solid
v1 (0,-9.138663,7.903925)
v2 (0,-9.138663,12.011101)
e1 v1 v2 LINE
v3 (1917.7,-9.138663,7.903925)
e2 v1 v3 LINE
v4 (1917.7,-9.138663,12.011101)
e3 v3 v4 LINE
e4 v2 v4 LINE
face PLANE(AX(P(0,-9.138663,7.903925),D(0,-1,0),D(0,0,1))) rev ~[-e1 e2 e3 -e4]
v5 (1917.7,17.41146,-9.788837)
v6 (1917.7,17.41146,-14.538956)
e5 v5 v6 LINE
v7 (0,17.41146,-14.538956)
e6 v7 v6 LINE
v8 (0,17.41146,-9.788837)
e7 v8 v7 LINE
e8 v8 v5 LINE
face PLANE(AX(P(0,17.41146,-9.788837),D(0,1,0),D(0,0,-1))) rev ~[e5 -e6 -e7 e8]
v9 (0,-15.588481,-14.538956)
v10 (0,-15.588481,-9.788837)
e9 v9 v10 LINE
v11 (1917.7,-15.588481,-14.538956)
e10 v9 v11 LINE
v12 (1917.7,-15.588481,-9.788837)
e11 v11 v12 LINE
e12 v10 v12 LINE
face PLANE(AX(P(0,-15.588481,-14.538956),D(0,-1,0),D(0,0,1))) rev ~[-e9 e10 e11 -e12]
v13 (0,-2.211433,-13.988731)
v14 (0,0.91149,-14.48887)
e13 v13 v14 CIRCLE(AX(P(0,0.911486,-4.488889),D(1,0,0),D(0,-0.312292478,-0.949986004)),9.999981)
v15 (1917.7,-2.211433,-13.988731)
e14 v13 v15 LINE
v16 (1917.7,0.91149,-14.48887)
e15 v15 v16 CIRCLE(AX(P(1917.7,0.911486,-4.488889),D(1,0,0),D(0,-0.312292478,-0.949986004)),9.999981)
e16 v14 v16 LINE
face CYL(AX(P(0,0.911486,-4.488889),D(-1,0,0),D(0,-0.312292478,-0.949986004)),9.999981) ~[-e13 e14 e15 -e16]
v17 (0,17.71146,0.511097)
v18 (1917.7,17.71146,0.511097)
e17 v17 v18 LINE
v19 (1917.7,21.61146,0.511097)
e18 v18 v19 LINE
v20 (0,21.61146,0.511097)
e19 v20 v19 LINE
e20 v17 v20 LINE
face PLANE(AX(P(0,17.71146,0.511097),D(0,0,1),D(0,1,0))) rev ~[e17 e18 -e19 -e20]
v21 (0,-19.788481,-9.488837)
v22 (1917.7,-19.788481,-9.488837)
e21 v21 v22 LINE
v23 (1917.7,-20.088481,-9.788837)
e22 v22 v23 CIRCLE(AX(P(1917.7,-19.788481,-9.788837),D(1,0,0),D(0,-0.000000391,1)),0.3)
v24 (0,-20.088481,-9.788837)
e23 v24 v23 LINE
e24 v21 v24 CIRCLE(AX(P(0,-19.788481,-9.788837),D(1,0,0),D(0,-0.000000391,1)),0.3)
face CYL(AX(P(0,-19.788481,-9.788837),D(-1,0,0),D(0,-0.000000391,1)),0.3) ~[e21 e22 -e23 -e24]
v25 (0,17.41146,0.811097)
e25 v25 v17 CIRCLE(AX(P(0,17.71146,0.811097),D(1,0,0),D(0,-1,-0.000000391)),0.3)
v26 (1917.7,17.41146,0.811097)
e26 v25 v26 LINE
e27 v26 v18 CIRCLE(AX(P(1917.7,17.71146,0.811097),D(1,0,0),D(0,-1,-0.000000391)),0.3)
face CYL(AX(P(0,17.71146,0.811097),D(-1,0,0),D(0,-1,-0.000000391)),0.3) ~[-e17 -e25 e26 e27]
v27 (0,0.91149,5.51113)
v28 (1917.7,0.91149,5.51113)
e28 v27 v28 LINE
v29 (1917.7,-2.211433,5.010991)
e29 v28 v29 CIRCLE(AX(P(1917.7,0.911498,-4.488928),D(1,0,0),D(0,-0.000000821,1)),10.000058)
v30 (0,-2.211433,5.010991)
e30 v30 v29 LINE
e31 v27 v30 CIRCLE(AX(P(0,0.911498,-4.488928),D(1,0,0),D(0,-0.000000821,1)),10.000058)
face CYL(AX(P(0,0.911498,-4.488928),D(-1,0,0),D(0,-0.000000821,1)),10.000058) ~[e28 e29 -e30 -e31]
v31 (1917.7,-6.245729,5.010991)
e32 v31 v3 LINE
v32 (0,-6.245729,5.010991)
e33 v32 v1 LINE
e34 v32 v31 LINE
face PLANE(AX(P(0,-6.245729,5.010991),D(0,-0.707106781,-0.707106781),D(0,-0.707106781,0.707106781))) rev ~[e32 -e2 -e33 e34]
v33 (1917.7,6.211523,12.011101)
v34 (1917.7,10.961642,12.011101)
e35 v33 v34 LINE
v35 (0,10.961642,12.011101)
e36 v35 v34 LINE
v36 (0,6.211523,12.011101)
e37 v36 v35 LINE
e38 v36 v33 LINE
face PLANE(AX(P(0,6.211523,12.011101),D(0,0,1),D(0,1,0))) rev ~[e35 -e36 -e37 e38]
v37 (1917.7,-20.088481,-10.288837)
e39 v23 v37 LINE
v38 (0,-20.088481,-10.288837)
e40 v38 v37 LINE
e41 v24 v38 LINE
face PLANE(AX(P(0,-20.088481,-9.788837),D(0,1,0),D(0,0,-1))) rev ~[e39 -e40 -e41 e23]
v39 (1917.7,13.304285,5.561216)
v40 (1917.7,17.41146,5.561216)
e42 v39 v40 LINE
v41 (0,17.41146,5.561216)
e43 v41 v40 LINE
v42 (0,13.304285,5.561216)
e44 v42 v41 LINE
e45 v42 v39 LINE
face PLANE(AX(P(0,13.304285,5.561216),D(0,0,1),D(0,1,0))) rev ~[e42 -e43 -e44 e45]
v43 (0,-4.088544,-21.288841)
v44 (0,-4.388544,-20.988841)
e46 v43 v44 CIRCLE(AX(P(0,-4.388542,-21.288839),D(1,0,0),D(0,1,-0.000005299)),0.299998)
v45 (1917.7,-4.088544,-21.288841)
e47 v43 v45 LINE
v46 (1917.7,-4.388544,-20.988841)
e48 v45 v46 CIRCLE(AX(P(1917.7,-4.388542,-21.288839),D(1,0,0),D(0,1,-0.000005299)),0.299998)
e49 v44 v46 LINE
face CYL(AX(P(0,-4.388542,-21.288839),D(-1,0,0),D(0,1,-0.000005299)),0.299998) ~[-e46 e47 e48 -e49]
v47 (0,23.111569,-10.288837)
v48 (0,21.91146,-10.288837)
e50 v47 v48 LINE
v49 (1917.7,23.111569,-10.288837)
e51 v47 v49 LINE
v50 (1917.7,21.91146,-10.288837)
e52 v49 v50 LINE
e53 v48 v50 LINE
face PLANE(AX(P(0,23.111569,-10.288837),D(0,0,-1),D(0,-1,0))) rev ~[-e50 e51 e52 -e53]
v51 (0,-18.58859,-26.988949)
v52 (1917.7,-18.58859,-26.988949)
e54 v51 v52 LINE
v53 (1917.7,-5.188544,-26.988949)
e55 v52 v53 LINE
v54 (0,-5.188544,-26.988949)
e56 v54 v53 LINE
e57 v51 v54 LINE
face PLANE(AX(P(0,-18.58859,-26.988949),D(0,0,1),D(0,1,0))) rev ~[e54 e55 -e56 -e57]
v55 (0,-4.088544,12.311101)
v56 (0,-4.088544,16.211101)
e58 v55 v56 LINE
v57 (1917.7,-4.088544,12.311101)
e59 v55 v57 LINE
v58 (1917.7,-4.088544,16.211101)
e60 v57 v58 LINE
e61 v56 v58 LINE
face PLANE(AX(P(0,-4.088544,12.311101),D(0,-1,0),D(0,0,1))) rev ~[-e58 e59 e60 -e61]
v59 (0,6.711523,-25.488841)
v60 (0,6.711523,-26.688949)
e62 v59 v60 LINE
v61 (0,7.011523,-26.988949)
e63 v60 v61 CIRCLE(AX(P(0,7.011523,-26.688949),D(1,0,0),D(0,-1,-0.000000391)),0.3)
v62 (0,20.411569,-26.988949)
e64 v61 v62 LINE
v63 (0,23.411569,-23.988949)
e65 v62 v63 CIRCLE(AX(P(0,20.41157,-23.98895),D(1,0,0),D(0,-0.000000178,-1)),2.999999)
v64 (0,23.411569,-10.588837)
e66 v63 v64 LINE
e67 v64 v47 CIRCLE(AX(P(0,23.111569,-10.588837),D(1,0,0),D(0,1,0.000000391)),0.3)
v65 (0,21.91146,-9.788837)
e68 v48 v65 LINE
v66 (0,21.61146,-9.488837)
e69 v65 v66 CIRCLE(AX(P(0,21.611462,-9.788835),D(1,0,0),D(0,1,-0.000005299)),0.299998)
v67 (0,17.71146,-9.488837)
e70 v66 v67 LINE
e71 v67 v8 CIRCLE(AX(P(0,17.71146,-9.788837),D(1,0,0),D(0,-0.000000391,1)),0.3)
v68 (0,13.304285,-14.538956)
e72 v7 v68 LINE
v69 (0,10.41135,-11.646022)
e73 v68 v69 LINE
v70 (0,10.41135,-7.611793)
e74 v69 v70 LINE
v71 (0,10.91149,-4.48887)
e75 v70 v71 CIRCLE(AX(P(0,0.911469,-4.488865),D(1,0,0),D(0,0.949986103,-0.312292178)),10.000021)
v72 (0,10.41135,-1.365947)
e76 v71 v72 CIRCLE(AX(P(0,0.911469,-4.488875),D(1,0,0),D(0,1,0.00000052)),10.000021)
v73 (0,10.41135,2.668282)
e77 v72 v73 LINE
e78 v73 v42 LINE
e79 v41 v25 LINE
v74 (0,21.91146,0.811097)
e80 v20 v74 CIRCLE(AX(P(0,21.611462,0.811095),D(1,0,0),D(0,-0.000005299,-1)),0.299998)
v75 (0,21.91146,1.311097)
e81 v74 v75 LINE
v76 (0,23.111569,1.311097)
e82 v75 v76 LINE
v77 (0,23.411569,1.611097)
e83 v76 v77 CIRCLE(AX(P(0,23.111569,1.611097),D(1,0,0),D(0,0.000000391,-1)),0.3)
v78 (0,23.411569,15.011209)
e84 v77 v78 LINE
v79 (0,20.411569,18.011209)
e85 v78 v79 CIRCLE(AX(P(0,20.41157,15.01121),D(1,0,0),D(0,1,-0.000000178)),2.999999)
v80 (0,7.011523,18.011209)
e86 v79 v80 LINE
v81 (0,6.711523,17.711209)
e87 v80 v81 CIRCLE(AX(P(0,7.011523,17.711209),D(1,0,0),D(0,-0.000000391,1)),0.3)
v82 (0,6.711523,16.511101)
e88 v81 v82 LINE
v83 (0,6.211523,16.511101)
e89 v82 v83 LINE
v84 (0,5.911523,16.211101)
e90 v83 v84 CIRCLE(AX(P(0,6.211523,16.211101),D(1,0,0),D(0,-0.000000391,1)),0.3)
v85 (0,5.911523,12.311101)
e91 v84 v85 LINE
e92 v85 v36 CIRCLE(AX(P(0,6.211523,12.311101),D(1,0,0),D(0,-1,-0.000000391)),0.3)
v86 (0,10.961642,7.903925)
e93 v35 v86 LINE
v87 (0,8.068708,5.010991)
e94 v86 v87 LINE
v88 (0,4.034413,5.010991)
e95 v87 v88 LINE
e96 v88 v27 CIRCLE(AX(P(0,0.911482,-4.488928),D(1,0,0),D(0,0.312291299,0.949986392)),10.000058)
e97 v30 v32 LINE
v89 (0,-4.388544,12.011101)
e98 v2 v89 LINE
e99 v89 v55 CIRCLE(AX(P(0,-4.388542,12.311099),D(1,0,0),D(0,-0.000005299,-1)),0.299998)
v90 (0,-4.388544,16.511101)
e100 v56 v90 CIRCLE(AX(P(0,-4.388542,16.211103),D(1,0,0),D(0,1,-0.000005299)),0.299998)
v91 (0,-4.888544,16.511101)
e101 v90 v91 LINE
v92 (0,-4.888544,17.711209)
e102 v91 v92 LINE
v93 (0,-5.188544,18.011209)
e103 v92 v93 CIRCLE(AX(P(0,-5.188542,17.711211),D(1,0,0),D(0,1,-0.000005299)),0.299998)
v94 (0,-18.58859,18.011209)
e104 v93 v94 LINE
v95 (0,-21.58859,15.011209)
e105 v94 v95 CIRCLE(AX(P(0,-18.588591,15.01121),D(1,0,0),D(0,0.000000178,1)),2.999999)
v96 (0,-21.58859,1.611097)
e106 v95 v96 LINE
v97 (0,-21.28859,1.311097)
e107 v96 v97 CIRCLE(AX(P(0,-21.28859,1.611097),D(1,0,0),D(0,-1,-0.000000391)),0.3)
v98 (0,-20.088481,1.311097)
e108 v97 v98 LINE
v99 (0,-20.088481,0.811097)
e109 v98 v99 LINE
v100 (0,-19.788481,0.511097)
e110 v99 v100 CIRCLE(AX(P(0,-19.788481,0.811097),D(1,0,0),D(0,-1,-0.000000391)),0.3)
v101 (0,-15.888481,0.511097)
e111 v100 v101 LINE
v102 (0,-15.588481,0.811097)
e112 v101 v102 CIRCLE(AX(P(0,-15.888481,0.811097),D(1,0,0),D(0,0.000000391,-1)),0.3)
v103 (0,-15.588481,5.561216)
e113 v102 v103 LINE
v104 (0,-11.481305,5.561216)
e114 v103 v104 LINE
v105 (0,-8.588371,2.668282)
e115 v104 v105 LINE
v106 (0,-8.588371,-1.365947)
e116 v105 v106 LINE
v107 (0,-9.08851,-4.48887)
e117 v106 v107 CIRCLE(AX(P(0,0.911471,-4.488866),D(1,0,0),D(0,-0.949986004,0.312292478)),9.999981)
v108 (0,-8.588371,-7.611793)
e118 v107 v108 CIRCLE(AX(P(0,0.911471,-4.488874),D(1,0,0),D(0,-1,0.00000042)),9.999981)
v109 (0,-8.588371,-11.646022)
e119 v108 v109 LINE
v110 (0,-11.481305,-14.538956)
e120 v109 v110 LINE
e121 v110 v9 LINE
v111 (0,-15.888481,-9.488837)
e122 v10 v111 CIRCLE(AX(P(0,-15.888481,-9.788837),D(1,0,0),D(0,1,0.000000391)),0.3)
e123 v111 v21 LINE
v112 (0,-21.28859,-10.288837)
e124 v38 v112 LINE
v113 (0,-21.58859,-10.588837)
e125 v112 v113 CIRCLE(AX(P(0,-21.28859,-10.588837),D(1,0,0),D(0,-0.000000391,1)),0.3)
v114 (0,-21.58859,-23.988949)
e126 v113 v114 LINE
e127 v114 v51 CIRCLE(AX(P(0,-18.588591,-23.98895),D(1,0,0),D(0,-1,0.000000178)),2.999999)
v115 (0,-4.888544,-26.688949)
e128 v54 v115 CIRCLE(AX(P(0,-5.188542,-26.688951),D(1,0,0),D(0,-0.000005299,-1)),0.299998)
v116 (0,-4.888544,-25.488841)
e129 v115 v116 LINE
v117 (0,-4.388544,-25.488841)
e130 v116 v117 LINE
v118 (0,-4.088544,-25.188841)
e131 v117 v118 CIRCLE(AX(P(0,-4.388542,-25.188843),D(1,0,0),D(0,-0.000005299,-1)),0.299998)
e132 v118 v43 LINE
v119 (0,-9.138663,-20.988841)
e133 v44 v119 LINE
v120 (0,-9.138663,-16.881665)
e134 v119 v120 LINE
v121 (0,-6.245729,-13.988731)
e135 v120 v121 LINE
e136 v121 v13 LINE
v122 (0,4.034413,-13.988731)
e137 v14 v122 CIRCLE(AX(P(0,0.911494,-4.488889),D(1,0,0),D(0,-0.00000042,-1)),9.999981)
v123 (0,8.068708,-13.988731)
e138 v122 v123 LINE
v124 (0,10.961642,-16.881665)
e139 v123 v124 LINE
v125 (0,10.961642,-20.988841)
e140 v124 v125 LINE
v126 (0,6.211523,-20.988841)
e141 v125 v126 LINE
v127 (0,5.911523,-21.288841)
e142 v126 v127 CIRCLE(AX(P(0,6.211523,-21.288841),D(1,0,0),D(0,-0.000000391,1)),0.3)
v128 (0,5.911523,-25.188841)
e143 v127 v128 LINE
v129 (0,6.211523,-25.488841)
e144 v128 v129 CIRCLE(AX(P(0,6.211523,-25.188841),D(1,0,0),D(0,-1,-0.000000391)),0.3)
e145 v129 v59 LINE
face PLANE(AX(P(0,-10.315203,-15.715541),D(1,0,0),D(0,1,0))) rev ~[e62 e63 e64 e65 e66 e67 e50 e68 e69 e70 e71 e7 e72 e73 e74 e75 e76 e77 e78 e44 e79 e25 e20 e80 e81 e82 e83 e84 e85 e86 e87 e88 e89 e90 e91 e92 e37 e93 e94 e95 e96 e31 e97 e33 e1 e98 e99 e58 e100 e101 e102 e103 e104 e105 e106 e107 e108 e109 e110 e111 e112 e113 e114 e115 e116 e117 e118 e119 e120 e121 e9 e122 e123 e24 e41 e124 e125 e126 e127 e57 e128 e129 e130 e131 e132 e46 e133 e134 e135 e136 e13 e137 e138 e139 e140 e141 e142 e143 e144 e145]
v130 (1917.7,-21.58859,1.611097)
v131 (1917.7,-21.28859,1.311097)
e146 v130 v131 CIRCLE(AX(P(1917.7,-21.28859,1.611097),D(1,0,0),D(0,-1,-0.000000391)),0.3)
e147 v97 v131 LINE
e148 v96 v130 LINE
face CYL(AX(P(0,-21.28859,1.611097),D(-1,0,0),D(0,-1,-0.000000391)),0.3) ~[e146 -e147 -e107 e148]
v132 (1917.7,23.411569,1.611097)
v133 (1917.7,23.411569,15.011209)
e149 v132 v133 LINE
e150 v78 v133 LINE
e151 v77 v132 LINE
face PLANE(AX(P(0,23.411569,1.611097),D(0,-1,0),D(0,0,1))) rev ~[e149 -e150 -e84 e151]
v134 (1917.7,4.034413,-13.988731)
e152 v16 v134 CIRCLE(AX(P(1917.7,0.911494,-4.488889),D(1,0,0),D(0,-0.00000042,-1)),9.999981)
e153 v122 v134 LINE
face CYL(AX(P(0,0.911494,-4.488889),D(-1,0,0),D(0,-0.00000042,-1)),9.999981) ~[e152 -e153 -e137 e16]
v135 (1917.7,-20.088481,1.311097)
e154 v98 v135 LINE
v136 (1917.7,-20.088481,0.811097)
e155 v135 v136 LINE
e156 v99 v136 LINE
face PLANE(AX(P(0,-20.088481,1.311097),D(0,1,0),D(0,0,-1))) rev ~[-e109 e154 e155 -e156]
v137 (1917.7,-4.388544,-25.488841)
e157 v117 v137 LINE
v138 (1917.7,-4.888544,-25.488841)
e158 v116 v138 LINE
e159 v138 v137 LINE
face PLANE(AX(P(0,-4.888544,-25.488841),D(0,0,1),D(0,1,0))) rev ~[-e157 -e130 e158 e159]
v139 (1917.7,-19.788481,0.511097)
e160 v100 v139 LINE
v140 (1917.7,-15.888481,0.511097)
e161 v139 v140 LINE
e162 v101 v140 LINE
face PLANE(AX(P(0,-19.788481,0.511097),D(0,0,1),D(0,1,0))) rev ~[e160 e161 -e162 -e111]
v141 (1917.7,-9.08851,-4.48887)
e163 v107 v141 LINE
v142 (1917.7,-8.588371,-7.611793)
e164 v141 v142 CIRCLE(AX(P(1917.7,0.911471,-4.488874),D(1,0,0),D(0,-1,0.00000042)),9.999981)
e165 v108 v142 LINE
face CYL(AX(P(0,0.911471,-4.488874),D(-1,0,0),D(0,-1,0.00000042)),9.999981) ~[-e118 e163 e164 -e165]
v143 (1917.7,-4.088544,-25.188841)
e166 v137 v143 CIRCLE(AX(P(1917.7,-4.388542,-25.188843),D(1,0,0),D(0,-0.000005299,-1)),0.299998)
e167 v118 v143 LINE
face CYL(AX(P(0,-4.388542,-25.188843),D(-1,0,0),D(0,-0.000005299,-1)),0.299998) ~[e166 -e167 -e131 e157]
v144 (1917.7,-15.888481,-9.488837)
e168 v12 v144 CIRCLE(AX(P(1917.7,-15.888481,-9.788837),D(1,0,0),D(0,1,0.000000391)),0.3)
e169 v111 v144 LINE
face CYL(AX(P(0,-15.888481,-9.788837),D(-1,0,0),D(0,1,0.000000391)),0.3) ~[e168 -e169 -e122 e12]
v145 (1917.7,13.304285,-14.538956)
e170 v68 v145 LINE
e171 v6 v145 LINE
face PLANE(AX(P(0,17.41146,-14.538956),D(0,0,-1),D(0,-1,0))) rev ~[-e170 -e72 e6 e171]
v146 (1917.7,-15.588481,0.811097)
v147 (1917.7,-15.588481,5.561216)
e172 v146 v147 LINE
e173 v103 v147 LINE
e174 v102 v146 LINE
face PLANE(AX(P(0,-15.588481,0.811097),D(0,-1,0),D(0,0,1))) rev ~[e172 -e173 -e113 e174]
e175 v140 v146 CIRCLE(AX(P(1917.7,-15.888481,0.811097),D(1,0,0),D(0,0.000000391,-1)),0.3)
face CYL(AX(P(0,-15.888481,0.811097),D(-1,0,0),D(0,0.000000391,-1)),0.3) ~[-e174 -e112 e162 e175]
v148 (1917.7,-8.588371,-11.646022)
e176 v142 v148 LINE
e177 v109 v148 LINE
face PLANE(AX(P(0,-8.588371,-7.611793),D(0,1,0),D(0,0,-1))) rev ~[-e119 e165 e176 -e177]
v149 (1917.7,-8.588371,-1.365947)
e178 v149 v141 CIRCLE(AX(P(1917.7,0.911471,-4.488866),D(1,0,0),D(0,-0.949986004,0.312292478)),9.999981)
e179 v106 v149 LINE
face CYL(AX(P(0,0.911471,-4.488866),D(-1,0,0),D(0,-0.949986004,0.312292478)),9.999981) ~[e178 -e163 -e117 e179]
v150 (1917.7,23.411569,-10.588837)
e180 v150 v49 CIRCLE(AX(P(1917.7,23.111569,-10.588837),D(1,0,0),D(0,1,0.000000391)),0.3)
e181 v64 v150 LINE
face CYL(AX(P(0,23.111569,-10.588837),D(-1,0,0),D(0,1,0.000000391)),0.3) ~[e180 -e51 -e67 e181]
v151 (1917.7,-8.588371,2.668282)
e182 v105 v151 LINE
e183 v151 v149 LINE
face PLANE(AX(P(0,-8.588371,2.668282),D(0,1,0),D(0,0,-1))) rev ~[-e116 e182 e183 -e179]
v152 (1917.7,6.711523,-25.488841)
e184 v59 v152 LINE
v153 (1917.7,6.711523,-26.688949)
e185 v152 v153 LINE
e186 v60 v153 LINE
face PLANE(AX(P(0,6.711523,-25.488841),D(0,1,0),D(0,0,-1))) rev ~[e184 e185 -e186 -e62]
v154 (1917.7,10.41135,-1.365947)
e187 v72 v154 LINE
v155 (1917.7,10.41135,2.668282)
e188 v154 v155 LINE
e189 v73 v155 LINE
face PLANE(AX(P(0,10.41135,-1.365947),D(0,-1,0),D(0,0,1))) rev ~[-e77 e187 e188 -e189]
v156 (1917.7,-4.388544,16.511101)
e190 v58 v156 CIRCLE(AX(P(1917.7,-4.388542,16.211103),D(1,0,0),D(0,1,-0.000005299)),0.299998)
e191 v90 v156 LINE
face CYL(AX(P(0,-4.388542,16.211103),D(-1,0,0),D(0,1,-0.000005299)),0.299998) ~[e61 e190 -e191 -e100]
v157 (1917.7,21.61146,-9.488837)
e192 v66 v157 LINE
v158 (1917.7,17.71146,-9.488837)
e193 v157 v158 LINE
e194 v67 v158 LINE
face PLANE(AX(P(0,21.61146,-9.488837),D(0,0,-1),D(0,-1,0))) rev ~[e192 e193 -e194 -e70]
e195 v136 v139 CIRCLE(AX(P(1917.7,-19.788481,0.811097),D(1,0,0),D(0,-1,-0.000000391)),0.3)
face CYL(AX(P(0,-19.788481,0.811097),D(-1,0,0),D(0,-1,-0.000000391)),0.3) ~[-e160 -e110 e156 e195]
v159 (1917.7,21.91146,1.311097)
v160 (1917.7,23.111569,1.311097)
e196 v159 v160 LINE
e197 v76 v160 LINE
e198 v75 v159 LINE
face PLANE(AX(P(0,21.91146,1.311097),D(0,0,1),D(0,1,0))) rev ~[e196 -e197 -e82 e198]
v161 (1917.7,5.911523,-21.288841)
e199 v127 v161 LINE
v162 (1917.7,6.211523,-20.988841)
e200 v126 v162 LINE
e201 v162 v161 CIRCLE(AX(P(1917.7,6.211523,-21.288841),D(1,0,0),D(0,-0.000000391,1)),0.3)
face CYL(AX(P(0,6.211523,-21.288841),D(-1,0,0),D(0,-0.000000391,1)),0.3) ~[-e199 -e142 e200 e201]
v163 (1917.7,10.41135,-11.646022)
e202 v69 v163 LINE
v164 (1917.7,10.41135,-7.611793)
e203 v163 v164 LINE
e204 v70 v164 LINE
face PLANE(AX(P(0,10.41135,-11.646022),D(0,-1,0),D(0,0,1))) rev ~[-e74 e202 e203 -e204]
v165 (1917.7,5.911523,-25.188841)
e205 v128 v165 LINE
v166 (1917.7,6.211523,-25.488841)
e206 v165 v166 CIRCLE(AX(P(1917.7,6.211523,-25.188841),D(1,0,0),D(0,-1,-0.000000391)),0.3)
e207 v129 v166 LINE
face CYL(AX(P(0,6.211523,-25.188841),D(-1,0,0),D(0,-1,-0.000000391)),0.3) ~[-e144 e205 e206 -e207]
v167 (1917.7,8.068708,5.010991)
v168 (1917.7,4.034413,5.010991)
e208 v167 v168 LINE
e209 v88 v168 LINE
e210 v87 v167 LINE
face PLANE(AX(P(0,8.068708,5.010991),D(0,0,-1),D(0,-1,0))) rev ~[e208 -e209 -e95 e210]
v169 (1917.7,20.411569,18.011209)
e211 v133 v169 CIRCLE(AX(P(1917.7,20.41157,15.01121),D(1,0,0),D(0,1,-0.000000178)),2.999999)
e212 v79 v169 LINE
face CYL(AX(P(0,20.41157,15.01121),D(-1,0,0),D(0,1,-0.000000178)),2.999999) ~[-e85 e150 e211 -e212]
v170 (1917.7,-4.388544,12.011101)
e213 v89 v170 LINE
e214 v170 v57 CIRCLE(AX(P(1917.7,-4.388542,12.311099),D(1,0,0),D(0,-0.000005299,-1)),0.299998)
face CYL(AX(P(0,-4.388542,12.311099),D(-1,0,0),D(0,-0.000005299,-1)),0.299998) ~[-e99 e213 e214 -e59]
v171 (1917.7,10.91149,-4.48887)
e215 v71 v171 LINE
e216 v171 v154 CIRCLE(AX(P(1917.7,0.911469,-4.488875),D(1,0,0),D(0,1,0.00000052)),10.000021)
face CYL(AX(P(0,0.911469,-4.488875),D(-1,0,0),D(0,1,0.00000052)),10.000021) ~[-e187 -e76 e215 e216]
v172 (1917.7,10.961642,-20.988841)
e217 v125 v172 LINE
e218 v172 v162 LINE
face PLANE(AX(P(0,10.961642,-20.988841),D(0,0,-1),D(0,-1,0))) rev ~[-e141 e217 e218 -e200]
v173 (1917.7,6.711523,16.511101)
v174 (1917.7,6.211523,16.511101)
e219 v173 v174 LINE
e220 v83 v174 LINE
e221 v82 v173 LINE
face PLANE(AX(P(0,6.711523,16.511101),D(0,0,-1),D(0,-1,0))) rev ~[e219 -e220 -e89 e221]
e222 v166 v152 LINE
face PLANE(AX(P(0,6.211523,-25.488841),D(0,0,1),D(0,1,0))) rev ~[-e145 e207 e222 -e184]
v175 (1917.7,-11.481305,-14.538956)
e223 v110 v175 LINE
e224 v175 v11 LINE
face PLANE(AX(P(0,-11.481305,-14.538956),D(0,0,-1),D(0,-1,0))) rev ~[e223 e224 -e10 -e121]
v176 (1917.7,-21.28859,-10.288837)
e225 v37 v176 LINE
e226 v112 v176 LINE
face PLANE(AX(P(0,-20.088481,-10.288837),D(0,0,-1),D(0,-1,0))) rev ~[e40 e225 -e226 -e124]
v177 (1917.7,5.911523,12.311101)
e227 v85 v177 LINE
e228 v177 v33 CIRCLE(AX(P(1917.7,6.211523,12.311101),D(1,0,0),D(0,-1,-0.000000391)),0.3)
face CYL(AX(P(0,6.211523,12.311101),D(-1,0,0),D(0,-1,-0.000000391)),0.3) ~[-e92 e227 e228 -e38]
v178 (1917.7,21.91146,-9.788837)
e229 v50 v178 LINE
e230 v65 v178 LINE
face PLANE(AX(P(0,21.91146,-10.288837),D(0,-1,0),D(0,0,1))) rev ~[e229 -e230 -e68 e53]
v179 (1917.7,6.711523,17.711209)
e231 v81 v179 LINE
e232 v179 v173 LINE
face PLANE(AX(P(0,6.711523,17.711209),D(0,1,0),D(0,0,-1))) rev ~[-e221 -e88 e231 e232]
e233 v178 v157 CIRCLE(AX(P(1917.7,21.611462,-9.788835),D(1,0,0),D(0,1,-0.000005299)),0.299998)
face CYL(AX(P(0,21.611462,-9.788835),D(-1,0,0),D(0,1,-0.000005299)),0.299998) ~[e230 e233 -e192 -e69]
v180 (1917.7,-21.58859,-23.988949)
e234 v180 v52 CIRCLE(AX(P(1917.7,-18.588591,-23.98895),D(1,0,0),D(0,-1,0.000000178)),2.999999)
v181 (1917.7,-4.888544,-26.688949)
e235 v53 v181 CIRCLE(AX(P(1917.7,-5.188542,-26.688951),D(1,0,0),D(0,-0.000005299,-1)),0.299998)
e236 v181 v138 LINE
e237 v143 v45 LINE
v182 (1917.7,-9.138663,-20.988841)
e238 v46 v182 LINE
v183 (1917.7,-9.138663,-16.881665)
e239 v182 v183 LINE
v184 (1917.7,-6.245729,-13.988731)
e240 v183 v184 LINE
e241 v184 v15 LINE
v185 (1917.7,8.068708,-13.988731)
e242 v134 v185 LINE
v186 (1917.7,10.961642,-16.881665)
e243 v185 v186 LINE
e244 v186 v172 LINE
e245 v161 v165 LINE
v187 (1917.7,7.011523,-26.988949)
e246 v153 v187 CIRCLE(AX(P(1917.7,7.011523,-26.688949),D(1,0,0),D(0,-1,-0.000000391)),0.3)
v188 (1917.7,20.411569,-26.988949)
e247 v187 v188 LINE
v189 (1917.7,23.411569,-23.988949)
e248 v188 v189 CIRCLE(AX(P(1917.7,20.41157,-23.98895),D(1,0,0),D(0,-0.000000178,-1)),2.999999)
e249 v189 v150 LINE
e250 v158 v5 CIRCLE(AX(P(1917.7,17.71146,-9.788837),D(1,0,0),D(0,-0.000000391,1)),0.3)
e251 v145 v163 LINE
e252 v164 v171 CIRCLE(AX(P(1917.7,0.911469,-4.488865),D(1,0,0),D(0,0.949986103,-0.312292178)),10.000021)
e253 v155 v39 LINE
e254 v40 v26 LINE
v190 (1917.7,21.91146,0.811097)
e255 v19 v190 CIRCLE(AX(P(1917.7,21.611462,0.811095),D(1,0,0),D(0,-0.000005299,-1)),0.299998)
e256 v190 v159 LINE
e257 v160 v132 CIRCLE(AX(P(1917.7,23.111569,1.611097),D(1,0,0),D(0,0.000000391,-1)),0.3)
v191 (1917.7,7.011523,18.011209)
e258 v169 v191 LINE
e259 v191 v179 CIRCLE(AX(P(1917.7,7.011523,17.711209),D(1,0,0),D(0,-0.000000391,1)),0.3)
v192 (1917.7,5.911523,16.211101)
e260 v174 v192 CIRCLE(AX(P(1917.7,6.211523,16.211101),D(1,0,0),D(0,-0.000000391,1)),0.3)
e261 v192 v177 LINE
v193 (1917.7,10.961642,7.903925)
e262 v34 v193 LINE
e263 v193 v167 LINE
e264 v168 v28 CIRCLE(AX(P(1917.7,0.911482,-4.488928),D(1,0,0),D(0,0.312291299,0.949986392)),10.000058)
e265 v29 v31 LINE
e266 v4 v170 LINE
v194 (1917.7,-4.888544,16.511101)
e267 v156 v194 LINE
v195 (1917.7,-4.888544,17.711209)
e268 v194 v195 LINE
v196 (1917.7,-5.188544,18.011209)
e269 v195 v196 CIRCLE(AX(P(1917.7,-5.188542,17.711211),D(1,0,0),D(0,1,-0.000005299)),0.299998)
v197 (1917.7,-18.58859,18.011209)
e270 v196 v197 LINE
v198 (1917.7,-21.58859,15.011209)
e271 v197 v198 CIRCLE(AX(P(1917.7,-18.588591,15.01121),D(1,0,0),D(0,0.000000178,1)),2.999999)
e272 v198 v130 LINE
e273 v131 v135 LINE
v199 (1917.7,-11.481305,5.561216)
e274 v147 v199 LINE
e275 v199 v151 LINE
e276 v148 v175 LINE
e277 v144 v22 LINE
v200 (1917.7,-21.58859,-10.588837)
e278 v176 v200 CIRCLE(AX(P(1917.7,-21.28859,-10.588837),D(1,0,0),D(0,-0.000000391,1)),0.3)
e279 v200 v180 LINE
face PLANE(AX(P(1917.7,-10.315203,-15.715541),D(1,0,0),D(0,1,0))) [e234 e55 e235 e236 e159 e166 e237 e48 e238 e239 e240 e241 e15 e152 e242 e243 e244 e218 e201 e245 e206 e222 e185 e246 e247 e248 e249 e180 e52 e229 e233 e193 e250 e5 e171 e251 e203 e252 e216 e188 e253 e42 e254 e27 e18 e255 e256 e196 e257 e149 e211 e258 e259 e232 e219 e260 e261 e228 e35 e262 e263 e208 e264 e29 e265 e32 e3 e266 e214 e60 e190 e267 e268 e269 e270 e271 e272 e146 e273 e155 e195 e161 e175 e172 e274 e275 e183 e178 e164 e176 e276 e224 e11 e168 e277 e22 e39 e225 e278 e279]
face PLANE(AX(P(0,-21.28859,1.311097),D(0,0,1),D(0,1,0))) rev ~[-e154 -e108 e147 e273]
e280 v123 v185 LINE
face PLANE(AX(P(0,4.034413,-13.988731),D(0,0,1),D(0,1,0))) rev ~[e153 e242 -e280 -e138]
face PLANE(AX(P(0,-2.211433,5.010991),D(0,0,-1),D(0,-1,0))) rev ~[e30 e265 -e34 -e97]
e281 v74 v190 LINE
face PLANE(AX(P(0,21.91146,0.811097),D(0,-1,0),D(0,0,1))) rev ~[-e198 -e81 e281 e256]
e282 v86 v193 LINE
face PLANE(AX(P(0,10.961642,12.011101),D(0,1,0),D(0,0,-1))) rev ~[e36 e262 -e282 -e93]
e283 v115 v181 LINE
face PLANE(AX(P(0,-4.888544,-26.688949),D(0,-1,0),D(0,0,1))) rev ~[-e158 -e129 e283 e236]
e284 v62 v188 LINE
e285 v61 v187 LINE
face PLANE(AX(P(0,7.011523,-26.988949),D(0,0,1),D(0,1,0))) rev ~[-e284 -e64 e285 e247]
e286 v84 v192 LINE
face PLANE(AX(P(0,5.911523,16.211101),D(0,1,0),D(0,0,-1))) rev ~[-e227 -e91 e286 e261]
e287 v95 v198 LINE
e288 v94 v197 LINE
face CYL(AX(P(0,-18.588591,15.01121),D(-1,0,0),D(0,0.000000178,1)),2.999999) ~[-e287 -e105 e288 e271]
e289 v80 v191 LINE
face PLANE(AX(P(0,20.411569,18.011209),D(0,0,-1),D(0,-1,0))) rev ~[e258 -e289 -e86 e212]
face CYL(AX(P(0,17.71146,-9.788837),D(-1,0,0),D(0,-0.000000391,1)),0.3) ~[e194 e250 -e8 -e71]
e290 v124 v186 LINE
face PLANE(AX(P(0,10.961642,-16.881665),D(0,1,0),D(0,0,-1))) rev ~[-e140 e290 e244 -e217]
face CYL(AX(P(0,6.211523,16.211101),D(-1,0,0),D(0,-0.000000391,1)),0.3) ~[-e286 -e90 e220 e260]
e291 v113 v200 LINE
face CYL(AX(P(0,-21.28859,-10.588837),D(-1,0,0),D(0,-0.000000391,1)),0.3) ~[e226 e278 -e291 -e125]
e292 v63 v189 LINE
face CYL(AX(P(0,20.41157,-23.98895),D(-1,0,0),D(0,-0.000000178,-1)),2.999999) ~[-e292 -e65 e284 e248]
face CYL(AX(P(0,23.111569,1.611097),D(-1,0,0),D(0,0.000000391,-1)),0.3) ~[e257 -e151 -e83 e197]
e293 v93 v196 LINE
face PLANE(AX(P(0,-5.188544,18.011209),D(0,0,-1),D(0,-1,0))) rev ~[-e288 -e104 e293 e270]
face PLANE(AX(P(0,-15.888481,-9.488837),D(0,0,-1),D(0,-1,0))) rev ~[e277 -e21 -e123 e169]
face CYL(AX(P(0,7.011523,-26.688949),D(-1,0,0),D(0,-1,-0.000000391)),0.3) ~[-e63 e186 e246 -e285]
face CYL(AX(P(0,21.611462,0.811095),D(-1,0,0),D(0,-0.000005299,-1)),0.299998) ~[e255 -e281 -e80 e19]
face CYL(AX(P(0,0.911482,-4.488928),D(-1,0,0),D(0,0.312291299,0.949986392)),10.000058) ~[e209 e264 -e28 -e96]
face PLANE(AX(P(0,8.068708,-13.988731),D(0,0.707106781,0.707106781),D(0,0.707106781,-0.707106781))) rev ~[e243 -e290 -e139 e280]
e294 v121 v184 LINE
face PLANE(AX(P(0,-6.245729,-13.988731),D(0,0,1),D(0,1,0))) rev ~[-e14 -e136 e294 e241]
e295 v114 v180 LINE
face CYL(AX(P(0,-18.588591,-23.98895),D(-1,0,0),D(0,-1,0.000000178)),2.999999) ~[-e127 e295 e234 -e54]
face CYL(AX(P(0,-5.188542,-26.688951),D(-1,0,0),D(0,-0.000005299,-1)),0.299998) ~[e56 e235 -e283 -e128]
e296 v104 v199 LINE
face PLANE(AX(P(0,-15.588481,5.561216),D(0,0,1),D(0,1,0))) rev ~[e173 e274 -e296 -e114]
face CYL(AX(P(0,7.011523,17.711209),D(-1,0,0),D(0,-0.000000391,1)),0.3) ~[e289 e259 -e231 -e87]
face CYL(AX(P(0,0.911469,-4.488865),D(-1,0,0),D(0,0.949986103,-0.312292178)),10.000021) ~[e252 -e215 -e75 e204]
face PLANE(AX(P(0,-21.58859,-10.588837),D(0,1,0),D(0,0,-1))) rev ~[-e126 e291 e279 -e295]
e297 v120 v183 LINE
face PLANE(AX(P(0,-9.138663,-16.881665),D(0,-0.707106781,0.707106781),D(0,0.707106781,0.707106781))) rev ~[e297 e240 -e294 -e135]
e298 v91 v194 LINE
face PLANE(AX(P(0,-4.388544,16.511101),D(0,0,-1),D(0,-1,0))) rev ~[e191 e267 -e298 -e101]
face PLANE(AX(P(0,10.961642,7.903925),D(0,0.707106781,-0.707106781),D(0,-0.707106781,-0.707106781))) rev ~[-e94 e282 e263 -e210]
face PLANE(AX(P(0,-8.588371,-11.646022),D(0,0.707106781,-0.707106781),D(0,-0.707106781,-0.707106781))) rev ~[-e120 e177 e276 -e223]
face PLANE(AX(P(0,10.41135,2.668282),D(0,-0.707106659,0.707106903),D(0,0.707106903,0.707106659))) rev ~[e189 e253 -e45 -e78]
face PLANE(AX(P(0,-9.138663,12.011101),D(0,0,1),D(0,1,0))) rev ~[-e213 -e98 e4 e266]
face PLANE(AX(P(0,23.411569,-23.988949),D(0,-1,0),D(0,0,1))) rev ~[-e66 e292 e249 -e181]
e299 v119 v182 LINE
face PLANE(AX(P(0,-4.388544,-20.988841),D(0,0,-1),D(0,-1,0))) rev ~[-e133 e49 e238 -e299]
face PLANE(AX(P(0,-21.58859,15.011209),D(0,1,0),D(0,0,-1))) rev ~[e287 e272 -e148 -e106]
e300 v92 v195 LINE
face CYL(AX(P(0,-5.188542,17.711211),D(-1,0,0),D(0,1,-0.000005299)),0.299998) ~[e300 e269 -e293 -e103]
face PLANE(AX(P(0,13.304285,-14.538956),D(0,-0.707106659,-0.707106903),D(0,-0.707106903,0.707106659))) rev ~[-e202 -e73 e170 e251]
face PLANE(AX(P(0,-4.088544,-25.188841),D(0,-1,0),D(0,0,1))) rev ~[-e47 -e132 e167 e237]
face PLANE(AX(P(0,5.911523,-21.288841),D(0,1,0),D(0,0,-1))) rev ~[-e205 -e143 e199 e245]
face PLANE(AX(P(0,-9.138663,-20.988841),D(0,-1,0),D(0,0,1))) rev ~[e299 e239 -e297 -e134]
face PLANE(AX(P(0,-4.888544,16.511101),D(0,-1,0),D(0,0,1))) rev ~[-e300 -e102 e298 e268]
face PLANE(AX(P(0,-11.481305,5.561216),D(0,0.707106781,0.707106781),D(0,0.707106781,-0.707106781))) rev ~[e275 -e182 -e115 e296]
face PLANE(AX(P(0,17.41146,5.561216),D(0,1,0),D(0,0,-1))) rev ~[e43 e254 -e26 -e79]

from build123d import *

# Parameters (mm, degrees)
F1_DEPTH = 1917.7


with BuildPart() as f1:
    # F0 (on Right) → F1 (new body)
    with BuildSketch(Plane.YZ):
        with BuildLine():
            Line((-20.088481, -9.788837), (-20.088481, -10.288837))
            Line((-20.088481, -10.288837), (-21.28859, -10.288837))
            ThreePointArc((-21.28859, -10.288837), (-21.500722, -10.376705), (-21.58859, -10.588837))
            Line((-21.58859, -10.588837), (-21.58859, -23.988949))
            ThreePointArc((-21.58859, -23.988949), (-20.70991, -26.11027), (-18.58859, -26.988949))
            Line((-18.58859, -26.988949), (-5.188544, -26.988949))
            ThreePointArc((-5.188544, -26.988949), (-4.976411, -26.901081), (-4.888544, -26.688949))
            Line((-4.888544, -26.688949), (-4.888544, -25.488841))
            Line((-4.888544, -25.488841), (-4.388544, -25.488841))
            ThreePointArc((-4.388544, -25.488841), (-4.176411, -25.400973), (-4.088544, -25.188841))
            Line((-4.088544, -25.188841), (-4.088544, -21.288841))
            ThreePointArc((-4.088544, -21.288841), (-4.176411, -21.076709), (-4.388544, -20.988841))
            Line((-4.388544, -20.988841), (-9.138663, -20.988841))
            Line((-9.138663, -20.988841), (-9.138663, -16.881665))
            Line((-9.138663, -16.881665), (-6.245729, -13.988731))
            Line((-6.245729, -13.988731), (-2.211433, -13.988731))
            ThreePointArc((-2.211433, -13.988731), (-0.669869, -14.363044), (0.91149, -14.48887))
            Line((0.91149, -14.48887), (0.91149, -4.48887))
            Line((0.91149, -4.48887), (-9.08851, -4.48887))
            ThreePointArc((-9.08851, -4.48887), (-8.962684, -6.070229), (-8.588371, -7.611793))
            Line((-8.588371, -7.611793), (-8.588371, -11.646022))
            Line((-8.588371, -11.646022), (-11.481305, -14.538956))
            Line((-11.481305, -14.538956), (-15.588481, -14.538956))
            Line((-15.588481, -14.538956), (-15.588481, -9.788837))
            ThreePointArc((-15.588481, -9.788837), (-15.676349, -9.576705), (-15.888481, -9.488837))
            Line((-15.888481, -9.488837), (-19.788481, -9.488837))
            ThreePointArc((-19.788481, -9.488837), (-20.000613, -9.576705), (-20.088481, -9.788837))
        make_face()
        with BuildLine():
            ThreePointArc((-8.588371, -1.365947), (-8.962684, -2.907511), (-9.08851, -4.48887))
            Line((-9.08851, -4.48887), (0.91149, -4.48887))
            Line((0.91149, -4.48887), (0.91149, 5.51113))
            ThreePointArc((0.91149, 5.51113), (-0.669869, 5.385303), (-2.211433, 5.010991))
            Line((-2.211433, 5.010991), (-6.245729, 5.010991))
            Line((-6.245729, 5.010991), (-9.138663, 7.903925))
            Line((-9.138663, 7.903925), (-9.138663, 12.011101))
            Line((-9.138663, 12.011101), (-4.388544, 12.011101))
            ThreePointArc((-4.388544, 12.011101), (-4.176411, 12.098969), (-4.088544, 12.311101))
            Line((-4.088544, 12.311101), (-4.088544, 16.211101))
            ThreePointArc((-4.088544, 16.211101), (-4.176411, 16.423233), (-4.388544, 16.511101))
            Line((-4.388544, 16.511101), (-4.888544, 16.511101))
            Line((-4.888544, 16.511101), (-4.888544, 17.711209))
            ThreePointArc((-4.888544, 17.711209), (-4.976411, 17.923341), (-5.188544, 18.011209))
            Line((-5.188544, 18.011209), (-18.58859, 18.011209))
            ThreePointArc((-18.58859, 18.011209), (-20.70991, 17.13253), (-21.58859, 15.011209))
            Line((-21.58859, 15.011209), (-21.58859, 1.611097))
            ThreePointArc((-21.58859, 1.611097), (-21.500722, 1.398965), (-21.28859, 1.311097))
            Line((-21.28859, 1.311097), (-20.088481, 1.311097))
            Line((-20.088481, 1.311097), (-20.088481, 0.811097))
            ThreePointArc((-20.088481, 0.811097), (-20.000613, 0.598965), (-19.788481, 0.511097))
            Line((-19.788481, 0.511097), (-15.888481, 0.511097))
            ThreePointArc((-15.888481, 0.511097), (-15.676349, 0.598965), (-15.588481, 0.811097))
            Line((-15.588481, 0.811097), (-15.588481, 5.561216))
            Line((-15.588481, 5.561216), (-11.481305, 5.561216))
            Line((-11.481305, 5.561216), (-8.588371, 2.668282))
            Line((-8.588371, 2.668282), (-8.588371, -1.365947))
        make_face()
        with BuildLine():
            Line((0.91149, 5.51113), (0.91149, -4.48887))
            Line((0.91149, -4.48887), (10.91149, -4.48887))
            ThreePointArc((10.91149, -4.48887), (10.785663, -2.907511), (10.41135, -1.365947))
            Line((10.41135, -1.365947), (10.41135, 2.668282))
            Line((10.41135, 2.668282), (13.304285, 5.561216))
            Line((13.304285, 5.561216), (14.016842, 5.561216))
            Line((14.016842, 5.561216), (17.41146, 5.561216))
            Line((17.41146, 5.561216), (17.41146, 0.811097))
            ThreePointArc((17.41146, 0.811097), (17.499328, 0.598965), (17.71146, 0.511097))
            Line((17.71146, 0.511097), (21.61146, 0.511097))
            ThreePointArc((21.61146, 0.511097), (21.823593, 0.598965), (21.91146, 0.811097))
            Line((21.91146, 0.811097), (21.91146, 1.311097))
            Line((21.91146, 1.311097), (23.111569, 1.311097))
            ThreePointArc((23.111569, 1.311097), (23.323701, 1.398965), (23.411569, 1.611097))
            Line((23.411569, 1.611097), (23.411569, 15.011209))
            ThreePointArc((23.411569, 15.011209), (22.532889, 17.13253), (20.411569, 18.011209))
            Line((20.411569, 18.011209), (7.011523, 18.011209))
            ThreePointArc((7.011523, 18.011209), (6.799391, 17.923341), (6.711523, 17.711209))
            Line((6.711523, 17.711209), (6.711523, 16.511101))
            Line((6.711523, 16.511101), (6.211523, 16.511101))
            ThreePointArc((6.211523, 16.511101), (5.999391, 16.423233), (5.911523, 16.211101))
            Line((5.911523, 16.211101), (5.911523, 12.311101))
            ThreePointArc((5.911523, 12.311101), (5.999391, 12.098969), (6.211523, 12.011101))
            Line((6.211523, 12.011101), (10.961642, 12.011101))
            Line((10.961642, 12.011101), (10.961642, 7.903925))
            Line((10.961642, 7.903925), (8.068708, 5.010991))
            Line((8.068708, 5.010991), (4.034413, 5.010991))
            ThreePointArc((4.034413, 5.010991), (2.492849, 5.385303), (0.91149, 5.51113))
        make_face()
        with BuildLine():
            Line((10.91149, -4.48887), (0.91149, -4.48887))
            Line((0.91149, -4.48887), (0.91149, -14.48887))
            ThreePointArc((0.91149, -14.48887), (2.492849, -14.363044), (4.034413, -13.988731))
            Line((4.034413, -13.988731), (8.068708, -13.988731))
            Line((8.068708, -13.988731), (10.961642, -16.881665))
            Line((10.961642, -16.881665), (10.961642, -20.988841))
            Line((10.961642, -20.988841), (6.211523, -20.988841))
            ThreePointArc((6.211523, -20.988841), (5.999391, -21.076709), (5.911523, -21.288841))
            Line((5.911523, -21.288841), (5.911523, -25.188841))
            ThreePointArc((5.911523, -25.188841), (5.999391, -25.400973), (6.211523, -25.488841))
            Line((6.211523, -25.488841), (6.711523, -25.488841))
            Line((6.711523, -25.488841), (6.711523, -26.688949))
            ThreePointArc((6.711523, -26.688949), (6.799391, -26.901081), (7.011523, -26.988949))
            Line((7.011523, -26.988949), (20.411569, -26.988949))
            ThreePointArc((20.411569, -26.988949), (22.532889, -26.11027), (23.411569, -23.988949))
            Line((23.411569, -23.988949), (23.411569, -10.588837))
            ThreePointArc((23.411569, -10.588837), (23.323701, -10.376705), (23.111569, -10.288837))
            Line((23.111569, -10.288837), (21.91146, -10.288837))
            Line((21.91146, -10.288837), (21.91146, -9.788837))
            ThreePointArc((21.91146, -9.788837), (21.823593, -9.576705), (21.61146, -9.488837))
            Line((21.61146, -9.488837), (17.71146, -9.488837))
            ThreePointArc((17.71146, -9.488837), (17.499328, -9.576705), (17.41146, -9.788837))
            Line((17.41146, -9.788837), (17.41146, -14.538956))
            Line((17.41146, -14.538956), (13.304285, -14.538956))
            Line((13.304285, -14.538956), (10.41135, -11.646022))
            Line((10.41135, -11.646022), (10.41135, -7.611793))
            ThreePointArc((10.41135, -7.611793), (10.785663, -6.070229), (10.91149, -4.48887))
        make_face()
    extrude(amount=F1_DEPTH)


solid = f1.part
